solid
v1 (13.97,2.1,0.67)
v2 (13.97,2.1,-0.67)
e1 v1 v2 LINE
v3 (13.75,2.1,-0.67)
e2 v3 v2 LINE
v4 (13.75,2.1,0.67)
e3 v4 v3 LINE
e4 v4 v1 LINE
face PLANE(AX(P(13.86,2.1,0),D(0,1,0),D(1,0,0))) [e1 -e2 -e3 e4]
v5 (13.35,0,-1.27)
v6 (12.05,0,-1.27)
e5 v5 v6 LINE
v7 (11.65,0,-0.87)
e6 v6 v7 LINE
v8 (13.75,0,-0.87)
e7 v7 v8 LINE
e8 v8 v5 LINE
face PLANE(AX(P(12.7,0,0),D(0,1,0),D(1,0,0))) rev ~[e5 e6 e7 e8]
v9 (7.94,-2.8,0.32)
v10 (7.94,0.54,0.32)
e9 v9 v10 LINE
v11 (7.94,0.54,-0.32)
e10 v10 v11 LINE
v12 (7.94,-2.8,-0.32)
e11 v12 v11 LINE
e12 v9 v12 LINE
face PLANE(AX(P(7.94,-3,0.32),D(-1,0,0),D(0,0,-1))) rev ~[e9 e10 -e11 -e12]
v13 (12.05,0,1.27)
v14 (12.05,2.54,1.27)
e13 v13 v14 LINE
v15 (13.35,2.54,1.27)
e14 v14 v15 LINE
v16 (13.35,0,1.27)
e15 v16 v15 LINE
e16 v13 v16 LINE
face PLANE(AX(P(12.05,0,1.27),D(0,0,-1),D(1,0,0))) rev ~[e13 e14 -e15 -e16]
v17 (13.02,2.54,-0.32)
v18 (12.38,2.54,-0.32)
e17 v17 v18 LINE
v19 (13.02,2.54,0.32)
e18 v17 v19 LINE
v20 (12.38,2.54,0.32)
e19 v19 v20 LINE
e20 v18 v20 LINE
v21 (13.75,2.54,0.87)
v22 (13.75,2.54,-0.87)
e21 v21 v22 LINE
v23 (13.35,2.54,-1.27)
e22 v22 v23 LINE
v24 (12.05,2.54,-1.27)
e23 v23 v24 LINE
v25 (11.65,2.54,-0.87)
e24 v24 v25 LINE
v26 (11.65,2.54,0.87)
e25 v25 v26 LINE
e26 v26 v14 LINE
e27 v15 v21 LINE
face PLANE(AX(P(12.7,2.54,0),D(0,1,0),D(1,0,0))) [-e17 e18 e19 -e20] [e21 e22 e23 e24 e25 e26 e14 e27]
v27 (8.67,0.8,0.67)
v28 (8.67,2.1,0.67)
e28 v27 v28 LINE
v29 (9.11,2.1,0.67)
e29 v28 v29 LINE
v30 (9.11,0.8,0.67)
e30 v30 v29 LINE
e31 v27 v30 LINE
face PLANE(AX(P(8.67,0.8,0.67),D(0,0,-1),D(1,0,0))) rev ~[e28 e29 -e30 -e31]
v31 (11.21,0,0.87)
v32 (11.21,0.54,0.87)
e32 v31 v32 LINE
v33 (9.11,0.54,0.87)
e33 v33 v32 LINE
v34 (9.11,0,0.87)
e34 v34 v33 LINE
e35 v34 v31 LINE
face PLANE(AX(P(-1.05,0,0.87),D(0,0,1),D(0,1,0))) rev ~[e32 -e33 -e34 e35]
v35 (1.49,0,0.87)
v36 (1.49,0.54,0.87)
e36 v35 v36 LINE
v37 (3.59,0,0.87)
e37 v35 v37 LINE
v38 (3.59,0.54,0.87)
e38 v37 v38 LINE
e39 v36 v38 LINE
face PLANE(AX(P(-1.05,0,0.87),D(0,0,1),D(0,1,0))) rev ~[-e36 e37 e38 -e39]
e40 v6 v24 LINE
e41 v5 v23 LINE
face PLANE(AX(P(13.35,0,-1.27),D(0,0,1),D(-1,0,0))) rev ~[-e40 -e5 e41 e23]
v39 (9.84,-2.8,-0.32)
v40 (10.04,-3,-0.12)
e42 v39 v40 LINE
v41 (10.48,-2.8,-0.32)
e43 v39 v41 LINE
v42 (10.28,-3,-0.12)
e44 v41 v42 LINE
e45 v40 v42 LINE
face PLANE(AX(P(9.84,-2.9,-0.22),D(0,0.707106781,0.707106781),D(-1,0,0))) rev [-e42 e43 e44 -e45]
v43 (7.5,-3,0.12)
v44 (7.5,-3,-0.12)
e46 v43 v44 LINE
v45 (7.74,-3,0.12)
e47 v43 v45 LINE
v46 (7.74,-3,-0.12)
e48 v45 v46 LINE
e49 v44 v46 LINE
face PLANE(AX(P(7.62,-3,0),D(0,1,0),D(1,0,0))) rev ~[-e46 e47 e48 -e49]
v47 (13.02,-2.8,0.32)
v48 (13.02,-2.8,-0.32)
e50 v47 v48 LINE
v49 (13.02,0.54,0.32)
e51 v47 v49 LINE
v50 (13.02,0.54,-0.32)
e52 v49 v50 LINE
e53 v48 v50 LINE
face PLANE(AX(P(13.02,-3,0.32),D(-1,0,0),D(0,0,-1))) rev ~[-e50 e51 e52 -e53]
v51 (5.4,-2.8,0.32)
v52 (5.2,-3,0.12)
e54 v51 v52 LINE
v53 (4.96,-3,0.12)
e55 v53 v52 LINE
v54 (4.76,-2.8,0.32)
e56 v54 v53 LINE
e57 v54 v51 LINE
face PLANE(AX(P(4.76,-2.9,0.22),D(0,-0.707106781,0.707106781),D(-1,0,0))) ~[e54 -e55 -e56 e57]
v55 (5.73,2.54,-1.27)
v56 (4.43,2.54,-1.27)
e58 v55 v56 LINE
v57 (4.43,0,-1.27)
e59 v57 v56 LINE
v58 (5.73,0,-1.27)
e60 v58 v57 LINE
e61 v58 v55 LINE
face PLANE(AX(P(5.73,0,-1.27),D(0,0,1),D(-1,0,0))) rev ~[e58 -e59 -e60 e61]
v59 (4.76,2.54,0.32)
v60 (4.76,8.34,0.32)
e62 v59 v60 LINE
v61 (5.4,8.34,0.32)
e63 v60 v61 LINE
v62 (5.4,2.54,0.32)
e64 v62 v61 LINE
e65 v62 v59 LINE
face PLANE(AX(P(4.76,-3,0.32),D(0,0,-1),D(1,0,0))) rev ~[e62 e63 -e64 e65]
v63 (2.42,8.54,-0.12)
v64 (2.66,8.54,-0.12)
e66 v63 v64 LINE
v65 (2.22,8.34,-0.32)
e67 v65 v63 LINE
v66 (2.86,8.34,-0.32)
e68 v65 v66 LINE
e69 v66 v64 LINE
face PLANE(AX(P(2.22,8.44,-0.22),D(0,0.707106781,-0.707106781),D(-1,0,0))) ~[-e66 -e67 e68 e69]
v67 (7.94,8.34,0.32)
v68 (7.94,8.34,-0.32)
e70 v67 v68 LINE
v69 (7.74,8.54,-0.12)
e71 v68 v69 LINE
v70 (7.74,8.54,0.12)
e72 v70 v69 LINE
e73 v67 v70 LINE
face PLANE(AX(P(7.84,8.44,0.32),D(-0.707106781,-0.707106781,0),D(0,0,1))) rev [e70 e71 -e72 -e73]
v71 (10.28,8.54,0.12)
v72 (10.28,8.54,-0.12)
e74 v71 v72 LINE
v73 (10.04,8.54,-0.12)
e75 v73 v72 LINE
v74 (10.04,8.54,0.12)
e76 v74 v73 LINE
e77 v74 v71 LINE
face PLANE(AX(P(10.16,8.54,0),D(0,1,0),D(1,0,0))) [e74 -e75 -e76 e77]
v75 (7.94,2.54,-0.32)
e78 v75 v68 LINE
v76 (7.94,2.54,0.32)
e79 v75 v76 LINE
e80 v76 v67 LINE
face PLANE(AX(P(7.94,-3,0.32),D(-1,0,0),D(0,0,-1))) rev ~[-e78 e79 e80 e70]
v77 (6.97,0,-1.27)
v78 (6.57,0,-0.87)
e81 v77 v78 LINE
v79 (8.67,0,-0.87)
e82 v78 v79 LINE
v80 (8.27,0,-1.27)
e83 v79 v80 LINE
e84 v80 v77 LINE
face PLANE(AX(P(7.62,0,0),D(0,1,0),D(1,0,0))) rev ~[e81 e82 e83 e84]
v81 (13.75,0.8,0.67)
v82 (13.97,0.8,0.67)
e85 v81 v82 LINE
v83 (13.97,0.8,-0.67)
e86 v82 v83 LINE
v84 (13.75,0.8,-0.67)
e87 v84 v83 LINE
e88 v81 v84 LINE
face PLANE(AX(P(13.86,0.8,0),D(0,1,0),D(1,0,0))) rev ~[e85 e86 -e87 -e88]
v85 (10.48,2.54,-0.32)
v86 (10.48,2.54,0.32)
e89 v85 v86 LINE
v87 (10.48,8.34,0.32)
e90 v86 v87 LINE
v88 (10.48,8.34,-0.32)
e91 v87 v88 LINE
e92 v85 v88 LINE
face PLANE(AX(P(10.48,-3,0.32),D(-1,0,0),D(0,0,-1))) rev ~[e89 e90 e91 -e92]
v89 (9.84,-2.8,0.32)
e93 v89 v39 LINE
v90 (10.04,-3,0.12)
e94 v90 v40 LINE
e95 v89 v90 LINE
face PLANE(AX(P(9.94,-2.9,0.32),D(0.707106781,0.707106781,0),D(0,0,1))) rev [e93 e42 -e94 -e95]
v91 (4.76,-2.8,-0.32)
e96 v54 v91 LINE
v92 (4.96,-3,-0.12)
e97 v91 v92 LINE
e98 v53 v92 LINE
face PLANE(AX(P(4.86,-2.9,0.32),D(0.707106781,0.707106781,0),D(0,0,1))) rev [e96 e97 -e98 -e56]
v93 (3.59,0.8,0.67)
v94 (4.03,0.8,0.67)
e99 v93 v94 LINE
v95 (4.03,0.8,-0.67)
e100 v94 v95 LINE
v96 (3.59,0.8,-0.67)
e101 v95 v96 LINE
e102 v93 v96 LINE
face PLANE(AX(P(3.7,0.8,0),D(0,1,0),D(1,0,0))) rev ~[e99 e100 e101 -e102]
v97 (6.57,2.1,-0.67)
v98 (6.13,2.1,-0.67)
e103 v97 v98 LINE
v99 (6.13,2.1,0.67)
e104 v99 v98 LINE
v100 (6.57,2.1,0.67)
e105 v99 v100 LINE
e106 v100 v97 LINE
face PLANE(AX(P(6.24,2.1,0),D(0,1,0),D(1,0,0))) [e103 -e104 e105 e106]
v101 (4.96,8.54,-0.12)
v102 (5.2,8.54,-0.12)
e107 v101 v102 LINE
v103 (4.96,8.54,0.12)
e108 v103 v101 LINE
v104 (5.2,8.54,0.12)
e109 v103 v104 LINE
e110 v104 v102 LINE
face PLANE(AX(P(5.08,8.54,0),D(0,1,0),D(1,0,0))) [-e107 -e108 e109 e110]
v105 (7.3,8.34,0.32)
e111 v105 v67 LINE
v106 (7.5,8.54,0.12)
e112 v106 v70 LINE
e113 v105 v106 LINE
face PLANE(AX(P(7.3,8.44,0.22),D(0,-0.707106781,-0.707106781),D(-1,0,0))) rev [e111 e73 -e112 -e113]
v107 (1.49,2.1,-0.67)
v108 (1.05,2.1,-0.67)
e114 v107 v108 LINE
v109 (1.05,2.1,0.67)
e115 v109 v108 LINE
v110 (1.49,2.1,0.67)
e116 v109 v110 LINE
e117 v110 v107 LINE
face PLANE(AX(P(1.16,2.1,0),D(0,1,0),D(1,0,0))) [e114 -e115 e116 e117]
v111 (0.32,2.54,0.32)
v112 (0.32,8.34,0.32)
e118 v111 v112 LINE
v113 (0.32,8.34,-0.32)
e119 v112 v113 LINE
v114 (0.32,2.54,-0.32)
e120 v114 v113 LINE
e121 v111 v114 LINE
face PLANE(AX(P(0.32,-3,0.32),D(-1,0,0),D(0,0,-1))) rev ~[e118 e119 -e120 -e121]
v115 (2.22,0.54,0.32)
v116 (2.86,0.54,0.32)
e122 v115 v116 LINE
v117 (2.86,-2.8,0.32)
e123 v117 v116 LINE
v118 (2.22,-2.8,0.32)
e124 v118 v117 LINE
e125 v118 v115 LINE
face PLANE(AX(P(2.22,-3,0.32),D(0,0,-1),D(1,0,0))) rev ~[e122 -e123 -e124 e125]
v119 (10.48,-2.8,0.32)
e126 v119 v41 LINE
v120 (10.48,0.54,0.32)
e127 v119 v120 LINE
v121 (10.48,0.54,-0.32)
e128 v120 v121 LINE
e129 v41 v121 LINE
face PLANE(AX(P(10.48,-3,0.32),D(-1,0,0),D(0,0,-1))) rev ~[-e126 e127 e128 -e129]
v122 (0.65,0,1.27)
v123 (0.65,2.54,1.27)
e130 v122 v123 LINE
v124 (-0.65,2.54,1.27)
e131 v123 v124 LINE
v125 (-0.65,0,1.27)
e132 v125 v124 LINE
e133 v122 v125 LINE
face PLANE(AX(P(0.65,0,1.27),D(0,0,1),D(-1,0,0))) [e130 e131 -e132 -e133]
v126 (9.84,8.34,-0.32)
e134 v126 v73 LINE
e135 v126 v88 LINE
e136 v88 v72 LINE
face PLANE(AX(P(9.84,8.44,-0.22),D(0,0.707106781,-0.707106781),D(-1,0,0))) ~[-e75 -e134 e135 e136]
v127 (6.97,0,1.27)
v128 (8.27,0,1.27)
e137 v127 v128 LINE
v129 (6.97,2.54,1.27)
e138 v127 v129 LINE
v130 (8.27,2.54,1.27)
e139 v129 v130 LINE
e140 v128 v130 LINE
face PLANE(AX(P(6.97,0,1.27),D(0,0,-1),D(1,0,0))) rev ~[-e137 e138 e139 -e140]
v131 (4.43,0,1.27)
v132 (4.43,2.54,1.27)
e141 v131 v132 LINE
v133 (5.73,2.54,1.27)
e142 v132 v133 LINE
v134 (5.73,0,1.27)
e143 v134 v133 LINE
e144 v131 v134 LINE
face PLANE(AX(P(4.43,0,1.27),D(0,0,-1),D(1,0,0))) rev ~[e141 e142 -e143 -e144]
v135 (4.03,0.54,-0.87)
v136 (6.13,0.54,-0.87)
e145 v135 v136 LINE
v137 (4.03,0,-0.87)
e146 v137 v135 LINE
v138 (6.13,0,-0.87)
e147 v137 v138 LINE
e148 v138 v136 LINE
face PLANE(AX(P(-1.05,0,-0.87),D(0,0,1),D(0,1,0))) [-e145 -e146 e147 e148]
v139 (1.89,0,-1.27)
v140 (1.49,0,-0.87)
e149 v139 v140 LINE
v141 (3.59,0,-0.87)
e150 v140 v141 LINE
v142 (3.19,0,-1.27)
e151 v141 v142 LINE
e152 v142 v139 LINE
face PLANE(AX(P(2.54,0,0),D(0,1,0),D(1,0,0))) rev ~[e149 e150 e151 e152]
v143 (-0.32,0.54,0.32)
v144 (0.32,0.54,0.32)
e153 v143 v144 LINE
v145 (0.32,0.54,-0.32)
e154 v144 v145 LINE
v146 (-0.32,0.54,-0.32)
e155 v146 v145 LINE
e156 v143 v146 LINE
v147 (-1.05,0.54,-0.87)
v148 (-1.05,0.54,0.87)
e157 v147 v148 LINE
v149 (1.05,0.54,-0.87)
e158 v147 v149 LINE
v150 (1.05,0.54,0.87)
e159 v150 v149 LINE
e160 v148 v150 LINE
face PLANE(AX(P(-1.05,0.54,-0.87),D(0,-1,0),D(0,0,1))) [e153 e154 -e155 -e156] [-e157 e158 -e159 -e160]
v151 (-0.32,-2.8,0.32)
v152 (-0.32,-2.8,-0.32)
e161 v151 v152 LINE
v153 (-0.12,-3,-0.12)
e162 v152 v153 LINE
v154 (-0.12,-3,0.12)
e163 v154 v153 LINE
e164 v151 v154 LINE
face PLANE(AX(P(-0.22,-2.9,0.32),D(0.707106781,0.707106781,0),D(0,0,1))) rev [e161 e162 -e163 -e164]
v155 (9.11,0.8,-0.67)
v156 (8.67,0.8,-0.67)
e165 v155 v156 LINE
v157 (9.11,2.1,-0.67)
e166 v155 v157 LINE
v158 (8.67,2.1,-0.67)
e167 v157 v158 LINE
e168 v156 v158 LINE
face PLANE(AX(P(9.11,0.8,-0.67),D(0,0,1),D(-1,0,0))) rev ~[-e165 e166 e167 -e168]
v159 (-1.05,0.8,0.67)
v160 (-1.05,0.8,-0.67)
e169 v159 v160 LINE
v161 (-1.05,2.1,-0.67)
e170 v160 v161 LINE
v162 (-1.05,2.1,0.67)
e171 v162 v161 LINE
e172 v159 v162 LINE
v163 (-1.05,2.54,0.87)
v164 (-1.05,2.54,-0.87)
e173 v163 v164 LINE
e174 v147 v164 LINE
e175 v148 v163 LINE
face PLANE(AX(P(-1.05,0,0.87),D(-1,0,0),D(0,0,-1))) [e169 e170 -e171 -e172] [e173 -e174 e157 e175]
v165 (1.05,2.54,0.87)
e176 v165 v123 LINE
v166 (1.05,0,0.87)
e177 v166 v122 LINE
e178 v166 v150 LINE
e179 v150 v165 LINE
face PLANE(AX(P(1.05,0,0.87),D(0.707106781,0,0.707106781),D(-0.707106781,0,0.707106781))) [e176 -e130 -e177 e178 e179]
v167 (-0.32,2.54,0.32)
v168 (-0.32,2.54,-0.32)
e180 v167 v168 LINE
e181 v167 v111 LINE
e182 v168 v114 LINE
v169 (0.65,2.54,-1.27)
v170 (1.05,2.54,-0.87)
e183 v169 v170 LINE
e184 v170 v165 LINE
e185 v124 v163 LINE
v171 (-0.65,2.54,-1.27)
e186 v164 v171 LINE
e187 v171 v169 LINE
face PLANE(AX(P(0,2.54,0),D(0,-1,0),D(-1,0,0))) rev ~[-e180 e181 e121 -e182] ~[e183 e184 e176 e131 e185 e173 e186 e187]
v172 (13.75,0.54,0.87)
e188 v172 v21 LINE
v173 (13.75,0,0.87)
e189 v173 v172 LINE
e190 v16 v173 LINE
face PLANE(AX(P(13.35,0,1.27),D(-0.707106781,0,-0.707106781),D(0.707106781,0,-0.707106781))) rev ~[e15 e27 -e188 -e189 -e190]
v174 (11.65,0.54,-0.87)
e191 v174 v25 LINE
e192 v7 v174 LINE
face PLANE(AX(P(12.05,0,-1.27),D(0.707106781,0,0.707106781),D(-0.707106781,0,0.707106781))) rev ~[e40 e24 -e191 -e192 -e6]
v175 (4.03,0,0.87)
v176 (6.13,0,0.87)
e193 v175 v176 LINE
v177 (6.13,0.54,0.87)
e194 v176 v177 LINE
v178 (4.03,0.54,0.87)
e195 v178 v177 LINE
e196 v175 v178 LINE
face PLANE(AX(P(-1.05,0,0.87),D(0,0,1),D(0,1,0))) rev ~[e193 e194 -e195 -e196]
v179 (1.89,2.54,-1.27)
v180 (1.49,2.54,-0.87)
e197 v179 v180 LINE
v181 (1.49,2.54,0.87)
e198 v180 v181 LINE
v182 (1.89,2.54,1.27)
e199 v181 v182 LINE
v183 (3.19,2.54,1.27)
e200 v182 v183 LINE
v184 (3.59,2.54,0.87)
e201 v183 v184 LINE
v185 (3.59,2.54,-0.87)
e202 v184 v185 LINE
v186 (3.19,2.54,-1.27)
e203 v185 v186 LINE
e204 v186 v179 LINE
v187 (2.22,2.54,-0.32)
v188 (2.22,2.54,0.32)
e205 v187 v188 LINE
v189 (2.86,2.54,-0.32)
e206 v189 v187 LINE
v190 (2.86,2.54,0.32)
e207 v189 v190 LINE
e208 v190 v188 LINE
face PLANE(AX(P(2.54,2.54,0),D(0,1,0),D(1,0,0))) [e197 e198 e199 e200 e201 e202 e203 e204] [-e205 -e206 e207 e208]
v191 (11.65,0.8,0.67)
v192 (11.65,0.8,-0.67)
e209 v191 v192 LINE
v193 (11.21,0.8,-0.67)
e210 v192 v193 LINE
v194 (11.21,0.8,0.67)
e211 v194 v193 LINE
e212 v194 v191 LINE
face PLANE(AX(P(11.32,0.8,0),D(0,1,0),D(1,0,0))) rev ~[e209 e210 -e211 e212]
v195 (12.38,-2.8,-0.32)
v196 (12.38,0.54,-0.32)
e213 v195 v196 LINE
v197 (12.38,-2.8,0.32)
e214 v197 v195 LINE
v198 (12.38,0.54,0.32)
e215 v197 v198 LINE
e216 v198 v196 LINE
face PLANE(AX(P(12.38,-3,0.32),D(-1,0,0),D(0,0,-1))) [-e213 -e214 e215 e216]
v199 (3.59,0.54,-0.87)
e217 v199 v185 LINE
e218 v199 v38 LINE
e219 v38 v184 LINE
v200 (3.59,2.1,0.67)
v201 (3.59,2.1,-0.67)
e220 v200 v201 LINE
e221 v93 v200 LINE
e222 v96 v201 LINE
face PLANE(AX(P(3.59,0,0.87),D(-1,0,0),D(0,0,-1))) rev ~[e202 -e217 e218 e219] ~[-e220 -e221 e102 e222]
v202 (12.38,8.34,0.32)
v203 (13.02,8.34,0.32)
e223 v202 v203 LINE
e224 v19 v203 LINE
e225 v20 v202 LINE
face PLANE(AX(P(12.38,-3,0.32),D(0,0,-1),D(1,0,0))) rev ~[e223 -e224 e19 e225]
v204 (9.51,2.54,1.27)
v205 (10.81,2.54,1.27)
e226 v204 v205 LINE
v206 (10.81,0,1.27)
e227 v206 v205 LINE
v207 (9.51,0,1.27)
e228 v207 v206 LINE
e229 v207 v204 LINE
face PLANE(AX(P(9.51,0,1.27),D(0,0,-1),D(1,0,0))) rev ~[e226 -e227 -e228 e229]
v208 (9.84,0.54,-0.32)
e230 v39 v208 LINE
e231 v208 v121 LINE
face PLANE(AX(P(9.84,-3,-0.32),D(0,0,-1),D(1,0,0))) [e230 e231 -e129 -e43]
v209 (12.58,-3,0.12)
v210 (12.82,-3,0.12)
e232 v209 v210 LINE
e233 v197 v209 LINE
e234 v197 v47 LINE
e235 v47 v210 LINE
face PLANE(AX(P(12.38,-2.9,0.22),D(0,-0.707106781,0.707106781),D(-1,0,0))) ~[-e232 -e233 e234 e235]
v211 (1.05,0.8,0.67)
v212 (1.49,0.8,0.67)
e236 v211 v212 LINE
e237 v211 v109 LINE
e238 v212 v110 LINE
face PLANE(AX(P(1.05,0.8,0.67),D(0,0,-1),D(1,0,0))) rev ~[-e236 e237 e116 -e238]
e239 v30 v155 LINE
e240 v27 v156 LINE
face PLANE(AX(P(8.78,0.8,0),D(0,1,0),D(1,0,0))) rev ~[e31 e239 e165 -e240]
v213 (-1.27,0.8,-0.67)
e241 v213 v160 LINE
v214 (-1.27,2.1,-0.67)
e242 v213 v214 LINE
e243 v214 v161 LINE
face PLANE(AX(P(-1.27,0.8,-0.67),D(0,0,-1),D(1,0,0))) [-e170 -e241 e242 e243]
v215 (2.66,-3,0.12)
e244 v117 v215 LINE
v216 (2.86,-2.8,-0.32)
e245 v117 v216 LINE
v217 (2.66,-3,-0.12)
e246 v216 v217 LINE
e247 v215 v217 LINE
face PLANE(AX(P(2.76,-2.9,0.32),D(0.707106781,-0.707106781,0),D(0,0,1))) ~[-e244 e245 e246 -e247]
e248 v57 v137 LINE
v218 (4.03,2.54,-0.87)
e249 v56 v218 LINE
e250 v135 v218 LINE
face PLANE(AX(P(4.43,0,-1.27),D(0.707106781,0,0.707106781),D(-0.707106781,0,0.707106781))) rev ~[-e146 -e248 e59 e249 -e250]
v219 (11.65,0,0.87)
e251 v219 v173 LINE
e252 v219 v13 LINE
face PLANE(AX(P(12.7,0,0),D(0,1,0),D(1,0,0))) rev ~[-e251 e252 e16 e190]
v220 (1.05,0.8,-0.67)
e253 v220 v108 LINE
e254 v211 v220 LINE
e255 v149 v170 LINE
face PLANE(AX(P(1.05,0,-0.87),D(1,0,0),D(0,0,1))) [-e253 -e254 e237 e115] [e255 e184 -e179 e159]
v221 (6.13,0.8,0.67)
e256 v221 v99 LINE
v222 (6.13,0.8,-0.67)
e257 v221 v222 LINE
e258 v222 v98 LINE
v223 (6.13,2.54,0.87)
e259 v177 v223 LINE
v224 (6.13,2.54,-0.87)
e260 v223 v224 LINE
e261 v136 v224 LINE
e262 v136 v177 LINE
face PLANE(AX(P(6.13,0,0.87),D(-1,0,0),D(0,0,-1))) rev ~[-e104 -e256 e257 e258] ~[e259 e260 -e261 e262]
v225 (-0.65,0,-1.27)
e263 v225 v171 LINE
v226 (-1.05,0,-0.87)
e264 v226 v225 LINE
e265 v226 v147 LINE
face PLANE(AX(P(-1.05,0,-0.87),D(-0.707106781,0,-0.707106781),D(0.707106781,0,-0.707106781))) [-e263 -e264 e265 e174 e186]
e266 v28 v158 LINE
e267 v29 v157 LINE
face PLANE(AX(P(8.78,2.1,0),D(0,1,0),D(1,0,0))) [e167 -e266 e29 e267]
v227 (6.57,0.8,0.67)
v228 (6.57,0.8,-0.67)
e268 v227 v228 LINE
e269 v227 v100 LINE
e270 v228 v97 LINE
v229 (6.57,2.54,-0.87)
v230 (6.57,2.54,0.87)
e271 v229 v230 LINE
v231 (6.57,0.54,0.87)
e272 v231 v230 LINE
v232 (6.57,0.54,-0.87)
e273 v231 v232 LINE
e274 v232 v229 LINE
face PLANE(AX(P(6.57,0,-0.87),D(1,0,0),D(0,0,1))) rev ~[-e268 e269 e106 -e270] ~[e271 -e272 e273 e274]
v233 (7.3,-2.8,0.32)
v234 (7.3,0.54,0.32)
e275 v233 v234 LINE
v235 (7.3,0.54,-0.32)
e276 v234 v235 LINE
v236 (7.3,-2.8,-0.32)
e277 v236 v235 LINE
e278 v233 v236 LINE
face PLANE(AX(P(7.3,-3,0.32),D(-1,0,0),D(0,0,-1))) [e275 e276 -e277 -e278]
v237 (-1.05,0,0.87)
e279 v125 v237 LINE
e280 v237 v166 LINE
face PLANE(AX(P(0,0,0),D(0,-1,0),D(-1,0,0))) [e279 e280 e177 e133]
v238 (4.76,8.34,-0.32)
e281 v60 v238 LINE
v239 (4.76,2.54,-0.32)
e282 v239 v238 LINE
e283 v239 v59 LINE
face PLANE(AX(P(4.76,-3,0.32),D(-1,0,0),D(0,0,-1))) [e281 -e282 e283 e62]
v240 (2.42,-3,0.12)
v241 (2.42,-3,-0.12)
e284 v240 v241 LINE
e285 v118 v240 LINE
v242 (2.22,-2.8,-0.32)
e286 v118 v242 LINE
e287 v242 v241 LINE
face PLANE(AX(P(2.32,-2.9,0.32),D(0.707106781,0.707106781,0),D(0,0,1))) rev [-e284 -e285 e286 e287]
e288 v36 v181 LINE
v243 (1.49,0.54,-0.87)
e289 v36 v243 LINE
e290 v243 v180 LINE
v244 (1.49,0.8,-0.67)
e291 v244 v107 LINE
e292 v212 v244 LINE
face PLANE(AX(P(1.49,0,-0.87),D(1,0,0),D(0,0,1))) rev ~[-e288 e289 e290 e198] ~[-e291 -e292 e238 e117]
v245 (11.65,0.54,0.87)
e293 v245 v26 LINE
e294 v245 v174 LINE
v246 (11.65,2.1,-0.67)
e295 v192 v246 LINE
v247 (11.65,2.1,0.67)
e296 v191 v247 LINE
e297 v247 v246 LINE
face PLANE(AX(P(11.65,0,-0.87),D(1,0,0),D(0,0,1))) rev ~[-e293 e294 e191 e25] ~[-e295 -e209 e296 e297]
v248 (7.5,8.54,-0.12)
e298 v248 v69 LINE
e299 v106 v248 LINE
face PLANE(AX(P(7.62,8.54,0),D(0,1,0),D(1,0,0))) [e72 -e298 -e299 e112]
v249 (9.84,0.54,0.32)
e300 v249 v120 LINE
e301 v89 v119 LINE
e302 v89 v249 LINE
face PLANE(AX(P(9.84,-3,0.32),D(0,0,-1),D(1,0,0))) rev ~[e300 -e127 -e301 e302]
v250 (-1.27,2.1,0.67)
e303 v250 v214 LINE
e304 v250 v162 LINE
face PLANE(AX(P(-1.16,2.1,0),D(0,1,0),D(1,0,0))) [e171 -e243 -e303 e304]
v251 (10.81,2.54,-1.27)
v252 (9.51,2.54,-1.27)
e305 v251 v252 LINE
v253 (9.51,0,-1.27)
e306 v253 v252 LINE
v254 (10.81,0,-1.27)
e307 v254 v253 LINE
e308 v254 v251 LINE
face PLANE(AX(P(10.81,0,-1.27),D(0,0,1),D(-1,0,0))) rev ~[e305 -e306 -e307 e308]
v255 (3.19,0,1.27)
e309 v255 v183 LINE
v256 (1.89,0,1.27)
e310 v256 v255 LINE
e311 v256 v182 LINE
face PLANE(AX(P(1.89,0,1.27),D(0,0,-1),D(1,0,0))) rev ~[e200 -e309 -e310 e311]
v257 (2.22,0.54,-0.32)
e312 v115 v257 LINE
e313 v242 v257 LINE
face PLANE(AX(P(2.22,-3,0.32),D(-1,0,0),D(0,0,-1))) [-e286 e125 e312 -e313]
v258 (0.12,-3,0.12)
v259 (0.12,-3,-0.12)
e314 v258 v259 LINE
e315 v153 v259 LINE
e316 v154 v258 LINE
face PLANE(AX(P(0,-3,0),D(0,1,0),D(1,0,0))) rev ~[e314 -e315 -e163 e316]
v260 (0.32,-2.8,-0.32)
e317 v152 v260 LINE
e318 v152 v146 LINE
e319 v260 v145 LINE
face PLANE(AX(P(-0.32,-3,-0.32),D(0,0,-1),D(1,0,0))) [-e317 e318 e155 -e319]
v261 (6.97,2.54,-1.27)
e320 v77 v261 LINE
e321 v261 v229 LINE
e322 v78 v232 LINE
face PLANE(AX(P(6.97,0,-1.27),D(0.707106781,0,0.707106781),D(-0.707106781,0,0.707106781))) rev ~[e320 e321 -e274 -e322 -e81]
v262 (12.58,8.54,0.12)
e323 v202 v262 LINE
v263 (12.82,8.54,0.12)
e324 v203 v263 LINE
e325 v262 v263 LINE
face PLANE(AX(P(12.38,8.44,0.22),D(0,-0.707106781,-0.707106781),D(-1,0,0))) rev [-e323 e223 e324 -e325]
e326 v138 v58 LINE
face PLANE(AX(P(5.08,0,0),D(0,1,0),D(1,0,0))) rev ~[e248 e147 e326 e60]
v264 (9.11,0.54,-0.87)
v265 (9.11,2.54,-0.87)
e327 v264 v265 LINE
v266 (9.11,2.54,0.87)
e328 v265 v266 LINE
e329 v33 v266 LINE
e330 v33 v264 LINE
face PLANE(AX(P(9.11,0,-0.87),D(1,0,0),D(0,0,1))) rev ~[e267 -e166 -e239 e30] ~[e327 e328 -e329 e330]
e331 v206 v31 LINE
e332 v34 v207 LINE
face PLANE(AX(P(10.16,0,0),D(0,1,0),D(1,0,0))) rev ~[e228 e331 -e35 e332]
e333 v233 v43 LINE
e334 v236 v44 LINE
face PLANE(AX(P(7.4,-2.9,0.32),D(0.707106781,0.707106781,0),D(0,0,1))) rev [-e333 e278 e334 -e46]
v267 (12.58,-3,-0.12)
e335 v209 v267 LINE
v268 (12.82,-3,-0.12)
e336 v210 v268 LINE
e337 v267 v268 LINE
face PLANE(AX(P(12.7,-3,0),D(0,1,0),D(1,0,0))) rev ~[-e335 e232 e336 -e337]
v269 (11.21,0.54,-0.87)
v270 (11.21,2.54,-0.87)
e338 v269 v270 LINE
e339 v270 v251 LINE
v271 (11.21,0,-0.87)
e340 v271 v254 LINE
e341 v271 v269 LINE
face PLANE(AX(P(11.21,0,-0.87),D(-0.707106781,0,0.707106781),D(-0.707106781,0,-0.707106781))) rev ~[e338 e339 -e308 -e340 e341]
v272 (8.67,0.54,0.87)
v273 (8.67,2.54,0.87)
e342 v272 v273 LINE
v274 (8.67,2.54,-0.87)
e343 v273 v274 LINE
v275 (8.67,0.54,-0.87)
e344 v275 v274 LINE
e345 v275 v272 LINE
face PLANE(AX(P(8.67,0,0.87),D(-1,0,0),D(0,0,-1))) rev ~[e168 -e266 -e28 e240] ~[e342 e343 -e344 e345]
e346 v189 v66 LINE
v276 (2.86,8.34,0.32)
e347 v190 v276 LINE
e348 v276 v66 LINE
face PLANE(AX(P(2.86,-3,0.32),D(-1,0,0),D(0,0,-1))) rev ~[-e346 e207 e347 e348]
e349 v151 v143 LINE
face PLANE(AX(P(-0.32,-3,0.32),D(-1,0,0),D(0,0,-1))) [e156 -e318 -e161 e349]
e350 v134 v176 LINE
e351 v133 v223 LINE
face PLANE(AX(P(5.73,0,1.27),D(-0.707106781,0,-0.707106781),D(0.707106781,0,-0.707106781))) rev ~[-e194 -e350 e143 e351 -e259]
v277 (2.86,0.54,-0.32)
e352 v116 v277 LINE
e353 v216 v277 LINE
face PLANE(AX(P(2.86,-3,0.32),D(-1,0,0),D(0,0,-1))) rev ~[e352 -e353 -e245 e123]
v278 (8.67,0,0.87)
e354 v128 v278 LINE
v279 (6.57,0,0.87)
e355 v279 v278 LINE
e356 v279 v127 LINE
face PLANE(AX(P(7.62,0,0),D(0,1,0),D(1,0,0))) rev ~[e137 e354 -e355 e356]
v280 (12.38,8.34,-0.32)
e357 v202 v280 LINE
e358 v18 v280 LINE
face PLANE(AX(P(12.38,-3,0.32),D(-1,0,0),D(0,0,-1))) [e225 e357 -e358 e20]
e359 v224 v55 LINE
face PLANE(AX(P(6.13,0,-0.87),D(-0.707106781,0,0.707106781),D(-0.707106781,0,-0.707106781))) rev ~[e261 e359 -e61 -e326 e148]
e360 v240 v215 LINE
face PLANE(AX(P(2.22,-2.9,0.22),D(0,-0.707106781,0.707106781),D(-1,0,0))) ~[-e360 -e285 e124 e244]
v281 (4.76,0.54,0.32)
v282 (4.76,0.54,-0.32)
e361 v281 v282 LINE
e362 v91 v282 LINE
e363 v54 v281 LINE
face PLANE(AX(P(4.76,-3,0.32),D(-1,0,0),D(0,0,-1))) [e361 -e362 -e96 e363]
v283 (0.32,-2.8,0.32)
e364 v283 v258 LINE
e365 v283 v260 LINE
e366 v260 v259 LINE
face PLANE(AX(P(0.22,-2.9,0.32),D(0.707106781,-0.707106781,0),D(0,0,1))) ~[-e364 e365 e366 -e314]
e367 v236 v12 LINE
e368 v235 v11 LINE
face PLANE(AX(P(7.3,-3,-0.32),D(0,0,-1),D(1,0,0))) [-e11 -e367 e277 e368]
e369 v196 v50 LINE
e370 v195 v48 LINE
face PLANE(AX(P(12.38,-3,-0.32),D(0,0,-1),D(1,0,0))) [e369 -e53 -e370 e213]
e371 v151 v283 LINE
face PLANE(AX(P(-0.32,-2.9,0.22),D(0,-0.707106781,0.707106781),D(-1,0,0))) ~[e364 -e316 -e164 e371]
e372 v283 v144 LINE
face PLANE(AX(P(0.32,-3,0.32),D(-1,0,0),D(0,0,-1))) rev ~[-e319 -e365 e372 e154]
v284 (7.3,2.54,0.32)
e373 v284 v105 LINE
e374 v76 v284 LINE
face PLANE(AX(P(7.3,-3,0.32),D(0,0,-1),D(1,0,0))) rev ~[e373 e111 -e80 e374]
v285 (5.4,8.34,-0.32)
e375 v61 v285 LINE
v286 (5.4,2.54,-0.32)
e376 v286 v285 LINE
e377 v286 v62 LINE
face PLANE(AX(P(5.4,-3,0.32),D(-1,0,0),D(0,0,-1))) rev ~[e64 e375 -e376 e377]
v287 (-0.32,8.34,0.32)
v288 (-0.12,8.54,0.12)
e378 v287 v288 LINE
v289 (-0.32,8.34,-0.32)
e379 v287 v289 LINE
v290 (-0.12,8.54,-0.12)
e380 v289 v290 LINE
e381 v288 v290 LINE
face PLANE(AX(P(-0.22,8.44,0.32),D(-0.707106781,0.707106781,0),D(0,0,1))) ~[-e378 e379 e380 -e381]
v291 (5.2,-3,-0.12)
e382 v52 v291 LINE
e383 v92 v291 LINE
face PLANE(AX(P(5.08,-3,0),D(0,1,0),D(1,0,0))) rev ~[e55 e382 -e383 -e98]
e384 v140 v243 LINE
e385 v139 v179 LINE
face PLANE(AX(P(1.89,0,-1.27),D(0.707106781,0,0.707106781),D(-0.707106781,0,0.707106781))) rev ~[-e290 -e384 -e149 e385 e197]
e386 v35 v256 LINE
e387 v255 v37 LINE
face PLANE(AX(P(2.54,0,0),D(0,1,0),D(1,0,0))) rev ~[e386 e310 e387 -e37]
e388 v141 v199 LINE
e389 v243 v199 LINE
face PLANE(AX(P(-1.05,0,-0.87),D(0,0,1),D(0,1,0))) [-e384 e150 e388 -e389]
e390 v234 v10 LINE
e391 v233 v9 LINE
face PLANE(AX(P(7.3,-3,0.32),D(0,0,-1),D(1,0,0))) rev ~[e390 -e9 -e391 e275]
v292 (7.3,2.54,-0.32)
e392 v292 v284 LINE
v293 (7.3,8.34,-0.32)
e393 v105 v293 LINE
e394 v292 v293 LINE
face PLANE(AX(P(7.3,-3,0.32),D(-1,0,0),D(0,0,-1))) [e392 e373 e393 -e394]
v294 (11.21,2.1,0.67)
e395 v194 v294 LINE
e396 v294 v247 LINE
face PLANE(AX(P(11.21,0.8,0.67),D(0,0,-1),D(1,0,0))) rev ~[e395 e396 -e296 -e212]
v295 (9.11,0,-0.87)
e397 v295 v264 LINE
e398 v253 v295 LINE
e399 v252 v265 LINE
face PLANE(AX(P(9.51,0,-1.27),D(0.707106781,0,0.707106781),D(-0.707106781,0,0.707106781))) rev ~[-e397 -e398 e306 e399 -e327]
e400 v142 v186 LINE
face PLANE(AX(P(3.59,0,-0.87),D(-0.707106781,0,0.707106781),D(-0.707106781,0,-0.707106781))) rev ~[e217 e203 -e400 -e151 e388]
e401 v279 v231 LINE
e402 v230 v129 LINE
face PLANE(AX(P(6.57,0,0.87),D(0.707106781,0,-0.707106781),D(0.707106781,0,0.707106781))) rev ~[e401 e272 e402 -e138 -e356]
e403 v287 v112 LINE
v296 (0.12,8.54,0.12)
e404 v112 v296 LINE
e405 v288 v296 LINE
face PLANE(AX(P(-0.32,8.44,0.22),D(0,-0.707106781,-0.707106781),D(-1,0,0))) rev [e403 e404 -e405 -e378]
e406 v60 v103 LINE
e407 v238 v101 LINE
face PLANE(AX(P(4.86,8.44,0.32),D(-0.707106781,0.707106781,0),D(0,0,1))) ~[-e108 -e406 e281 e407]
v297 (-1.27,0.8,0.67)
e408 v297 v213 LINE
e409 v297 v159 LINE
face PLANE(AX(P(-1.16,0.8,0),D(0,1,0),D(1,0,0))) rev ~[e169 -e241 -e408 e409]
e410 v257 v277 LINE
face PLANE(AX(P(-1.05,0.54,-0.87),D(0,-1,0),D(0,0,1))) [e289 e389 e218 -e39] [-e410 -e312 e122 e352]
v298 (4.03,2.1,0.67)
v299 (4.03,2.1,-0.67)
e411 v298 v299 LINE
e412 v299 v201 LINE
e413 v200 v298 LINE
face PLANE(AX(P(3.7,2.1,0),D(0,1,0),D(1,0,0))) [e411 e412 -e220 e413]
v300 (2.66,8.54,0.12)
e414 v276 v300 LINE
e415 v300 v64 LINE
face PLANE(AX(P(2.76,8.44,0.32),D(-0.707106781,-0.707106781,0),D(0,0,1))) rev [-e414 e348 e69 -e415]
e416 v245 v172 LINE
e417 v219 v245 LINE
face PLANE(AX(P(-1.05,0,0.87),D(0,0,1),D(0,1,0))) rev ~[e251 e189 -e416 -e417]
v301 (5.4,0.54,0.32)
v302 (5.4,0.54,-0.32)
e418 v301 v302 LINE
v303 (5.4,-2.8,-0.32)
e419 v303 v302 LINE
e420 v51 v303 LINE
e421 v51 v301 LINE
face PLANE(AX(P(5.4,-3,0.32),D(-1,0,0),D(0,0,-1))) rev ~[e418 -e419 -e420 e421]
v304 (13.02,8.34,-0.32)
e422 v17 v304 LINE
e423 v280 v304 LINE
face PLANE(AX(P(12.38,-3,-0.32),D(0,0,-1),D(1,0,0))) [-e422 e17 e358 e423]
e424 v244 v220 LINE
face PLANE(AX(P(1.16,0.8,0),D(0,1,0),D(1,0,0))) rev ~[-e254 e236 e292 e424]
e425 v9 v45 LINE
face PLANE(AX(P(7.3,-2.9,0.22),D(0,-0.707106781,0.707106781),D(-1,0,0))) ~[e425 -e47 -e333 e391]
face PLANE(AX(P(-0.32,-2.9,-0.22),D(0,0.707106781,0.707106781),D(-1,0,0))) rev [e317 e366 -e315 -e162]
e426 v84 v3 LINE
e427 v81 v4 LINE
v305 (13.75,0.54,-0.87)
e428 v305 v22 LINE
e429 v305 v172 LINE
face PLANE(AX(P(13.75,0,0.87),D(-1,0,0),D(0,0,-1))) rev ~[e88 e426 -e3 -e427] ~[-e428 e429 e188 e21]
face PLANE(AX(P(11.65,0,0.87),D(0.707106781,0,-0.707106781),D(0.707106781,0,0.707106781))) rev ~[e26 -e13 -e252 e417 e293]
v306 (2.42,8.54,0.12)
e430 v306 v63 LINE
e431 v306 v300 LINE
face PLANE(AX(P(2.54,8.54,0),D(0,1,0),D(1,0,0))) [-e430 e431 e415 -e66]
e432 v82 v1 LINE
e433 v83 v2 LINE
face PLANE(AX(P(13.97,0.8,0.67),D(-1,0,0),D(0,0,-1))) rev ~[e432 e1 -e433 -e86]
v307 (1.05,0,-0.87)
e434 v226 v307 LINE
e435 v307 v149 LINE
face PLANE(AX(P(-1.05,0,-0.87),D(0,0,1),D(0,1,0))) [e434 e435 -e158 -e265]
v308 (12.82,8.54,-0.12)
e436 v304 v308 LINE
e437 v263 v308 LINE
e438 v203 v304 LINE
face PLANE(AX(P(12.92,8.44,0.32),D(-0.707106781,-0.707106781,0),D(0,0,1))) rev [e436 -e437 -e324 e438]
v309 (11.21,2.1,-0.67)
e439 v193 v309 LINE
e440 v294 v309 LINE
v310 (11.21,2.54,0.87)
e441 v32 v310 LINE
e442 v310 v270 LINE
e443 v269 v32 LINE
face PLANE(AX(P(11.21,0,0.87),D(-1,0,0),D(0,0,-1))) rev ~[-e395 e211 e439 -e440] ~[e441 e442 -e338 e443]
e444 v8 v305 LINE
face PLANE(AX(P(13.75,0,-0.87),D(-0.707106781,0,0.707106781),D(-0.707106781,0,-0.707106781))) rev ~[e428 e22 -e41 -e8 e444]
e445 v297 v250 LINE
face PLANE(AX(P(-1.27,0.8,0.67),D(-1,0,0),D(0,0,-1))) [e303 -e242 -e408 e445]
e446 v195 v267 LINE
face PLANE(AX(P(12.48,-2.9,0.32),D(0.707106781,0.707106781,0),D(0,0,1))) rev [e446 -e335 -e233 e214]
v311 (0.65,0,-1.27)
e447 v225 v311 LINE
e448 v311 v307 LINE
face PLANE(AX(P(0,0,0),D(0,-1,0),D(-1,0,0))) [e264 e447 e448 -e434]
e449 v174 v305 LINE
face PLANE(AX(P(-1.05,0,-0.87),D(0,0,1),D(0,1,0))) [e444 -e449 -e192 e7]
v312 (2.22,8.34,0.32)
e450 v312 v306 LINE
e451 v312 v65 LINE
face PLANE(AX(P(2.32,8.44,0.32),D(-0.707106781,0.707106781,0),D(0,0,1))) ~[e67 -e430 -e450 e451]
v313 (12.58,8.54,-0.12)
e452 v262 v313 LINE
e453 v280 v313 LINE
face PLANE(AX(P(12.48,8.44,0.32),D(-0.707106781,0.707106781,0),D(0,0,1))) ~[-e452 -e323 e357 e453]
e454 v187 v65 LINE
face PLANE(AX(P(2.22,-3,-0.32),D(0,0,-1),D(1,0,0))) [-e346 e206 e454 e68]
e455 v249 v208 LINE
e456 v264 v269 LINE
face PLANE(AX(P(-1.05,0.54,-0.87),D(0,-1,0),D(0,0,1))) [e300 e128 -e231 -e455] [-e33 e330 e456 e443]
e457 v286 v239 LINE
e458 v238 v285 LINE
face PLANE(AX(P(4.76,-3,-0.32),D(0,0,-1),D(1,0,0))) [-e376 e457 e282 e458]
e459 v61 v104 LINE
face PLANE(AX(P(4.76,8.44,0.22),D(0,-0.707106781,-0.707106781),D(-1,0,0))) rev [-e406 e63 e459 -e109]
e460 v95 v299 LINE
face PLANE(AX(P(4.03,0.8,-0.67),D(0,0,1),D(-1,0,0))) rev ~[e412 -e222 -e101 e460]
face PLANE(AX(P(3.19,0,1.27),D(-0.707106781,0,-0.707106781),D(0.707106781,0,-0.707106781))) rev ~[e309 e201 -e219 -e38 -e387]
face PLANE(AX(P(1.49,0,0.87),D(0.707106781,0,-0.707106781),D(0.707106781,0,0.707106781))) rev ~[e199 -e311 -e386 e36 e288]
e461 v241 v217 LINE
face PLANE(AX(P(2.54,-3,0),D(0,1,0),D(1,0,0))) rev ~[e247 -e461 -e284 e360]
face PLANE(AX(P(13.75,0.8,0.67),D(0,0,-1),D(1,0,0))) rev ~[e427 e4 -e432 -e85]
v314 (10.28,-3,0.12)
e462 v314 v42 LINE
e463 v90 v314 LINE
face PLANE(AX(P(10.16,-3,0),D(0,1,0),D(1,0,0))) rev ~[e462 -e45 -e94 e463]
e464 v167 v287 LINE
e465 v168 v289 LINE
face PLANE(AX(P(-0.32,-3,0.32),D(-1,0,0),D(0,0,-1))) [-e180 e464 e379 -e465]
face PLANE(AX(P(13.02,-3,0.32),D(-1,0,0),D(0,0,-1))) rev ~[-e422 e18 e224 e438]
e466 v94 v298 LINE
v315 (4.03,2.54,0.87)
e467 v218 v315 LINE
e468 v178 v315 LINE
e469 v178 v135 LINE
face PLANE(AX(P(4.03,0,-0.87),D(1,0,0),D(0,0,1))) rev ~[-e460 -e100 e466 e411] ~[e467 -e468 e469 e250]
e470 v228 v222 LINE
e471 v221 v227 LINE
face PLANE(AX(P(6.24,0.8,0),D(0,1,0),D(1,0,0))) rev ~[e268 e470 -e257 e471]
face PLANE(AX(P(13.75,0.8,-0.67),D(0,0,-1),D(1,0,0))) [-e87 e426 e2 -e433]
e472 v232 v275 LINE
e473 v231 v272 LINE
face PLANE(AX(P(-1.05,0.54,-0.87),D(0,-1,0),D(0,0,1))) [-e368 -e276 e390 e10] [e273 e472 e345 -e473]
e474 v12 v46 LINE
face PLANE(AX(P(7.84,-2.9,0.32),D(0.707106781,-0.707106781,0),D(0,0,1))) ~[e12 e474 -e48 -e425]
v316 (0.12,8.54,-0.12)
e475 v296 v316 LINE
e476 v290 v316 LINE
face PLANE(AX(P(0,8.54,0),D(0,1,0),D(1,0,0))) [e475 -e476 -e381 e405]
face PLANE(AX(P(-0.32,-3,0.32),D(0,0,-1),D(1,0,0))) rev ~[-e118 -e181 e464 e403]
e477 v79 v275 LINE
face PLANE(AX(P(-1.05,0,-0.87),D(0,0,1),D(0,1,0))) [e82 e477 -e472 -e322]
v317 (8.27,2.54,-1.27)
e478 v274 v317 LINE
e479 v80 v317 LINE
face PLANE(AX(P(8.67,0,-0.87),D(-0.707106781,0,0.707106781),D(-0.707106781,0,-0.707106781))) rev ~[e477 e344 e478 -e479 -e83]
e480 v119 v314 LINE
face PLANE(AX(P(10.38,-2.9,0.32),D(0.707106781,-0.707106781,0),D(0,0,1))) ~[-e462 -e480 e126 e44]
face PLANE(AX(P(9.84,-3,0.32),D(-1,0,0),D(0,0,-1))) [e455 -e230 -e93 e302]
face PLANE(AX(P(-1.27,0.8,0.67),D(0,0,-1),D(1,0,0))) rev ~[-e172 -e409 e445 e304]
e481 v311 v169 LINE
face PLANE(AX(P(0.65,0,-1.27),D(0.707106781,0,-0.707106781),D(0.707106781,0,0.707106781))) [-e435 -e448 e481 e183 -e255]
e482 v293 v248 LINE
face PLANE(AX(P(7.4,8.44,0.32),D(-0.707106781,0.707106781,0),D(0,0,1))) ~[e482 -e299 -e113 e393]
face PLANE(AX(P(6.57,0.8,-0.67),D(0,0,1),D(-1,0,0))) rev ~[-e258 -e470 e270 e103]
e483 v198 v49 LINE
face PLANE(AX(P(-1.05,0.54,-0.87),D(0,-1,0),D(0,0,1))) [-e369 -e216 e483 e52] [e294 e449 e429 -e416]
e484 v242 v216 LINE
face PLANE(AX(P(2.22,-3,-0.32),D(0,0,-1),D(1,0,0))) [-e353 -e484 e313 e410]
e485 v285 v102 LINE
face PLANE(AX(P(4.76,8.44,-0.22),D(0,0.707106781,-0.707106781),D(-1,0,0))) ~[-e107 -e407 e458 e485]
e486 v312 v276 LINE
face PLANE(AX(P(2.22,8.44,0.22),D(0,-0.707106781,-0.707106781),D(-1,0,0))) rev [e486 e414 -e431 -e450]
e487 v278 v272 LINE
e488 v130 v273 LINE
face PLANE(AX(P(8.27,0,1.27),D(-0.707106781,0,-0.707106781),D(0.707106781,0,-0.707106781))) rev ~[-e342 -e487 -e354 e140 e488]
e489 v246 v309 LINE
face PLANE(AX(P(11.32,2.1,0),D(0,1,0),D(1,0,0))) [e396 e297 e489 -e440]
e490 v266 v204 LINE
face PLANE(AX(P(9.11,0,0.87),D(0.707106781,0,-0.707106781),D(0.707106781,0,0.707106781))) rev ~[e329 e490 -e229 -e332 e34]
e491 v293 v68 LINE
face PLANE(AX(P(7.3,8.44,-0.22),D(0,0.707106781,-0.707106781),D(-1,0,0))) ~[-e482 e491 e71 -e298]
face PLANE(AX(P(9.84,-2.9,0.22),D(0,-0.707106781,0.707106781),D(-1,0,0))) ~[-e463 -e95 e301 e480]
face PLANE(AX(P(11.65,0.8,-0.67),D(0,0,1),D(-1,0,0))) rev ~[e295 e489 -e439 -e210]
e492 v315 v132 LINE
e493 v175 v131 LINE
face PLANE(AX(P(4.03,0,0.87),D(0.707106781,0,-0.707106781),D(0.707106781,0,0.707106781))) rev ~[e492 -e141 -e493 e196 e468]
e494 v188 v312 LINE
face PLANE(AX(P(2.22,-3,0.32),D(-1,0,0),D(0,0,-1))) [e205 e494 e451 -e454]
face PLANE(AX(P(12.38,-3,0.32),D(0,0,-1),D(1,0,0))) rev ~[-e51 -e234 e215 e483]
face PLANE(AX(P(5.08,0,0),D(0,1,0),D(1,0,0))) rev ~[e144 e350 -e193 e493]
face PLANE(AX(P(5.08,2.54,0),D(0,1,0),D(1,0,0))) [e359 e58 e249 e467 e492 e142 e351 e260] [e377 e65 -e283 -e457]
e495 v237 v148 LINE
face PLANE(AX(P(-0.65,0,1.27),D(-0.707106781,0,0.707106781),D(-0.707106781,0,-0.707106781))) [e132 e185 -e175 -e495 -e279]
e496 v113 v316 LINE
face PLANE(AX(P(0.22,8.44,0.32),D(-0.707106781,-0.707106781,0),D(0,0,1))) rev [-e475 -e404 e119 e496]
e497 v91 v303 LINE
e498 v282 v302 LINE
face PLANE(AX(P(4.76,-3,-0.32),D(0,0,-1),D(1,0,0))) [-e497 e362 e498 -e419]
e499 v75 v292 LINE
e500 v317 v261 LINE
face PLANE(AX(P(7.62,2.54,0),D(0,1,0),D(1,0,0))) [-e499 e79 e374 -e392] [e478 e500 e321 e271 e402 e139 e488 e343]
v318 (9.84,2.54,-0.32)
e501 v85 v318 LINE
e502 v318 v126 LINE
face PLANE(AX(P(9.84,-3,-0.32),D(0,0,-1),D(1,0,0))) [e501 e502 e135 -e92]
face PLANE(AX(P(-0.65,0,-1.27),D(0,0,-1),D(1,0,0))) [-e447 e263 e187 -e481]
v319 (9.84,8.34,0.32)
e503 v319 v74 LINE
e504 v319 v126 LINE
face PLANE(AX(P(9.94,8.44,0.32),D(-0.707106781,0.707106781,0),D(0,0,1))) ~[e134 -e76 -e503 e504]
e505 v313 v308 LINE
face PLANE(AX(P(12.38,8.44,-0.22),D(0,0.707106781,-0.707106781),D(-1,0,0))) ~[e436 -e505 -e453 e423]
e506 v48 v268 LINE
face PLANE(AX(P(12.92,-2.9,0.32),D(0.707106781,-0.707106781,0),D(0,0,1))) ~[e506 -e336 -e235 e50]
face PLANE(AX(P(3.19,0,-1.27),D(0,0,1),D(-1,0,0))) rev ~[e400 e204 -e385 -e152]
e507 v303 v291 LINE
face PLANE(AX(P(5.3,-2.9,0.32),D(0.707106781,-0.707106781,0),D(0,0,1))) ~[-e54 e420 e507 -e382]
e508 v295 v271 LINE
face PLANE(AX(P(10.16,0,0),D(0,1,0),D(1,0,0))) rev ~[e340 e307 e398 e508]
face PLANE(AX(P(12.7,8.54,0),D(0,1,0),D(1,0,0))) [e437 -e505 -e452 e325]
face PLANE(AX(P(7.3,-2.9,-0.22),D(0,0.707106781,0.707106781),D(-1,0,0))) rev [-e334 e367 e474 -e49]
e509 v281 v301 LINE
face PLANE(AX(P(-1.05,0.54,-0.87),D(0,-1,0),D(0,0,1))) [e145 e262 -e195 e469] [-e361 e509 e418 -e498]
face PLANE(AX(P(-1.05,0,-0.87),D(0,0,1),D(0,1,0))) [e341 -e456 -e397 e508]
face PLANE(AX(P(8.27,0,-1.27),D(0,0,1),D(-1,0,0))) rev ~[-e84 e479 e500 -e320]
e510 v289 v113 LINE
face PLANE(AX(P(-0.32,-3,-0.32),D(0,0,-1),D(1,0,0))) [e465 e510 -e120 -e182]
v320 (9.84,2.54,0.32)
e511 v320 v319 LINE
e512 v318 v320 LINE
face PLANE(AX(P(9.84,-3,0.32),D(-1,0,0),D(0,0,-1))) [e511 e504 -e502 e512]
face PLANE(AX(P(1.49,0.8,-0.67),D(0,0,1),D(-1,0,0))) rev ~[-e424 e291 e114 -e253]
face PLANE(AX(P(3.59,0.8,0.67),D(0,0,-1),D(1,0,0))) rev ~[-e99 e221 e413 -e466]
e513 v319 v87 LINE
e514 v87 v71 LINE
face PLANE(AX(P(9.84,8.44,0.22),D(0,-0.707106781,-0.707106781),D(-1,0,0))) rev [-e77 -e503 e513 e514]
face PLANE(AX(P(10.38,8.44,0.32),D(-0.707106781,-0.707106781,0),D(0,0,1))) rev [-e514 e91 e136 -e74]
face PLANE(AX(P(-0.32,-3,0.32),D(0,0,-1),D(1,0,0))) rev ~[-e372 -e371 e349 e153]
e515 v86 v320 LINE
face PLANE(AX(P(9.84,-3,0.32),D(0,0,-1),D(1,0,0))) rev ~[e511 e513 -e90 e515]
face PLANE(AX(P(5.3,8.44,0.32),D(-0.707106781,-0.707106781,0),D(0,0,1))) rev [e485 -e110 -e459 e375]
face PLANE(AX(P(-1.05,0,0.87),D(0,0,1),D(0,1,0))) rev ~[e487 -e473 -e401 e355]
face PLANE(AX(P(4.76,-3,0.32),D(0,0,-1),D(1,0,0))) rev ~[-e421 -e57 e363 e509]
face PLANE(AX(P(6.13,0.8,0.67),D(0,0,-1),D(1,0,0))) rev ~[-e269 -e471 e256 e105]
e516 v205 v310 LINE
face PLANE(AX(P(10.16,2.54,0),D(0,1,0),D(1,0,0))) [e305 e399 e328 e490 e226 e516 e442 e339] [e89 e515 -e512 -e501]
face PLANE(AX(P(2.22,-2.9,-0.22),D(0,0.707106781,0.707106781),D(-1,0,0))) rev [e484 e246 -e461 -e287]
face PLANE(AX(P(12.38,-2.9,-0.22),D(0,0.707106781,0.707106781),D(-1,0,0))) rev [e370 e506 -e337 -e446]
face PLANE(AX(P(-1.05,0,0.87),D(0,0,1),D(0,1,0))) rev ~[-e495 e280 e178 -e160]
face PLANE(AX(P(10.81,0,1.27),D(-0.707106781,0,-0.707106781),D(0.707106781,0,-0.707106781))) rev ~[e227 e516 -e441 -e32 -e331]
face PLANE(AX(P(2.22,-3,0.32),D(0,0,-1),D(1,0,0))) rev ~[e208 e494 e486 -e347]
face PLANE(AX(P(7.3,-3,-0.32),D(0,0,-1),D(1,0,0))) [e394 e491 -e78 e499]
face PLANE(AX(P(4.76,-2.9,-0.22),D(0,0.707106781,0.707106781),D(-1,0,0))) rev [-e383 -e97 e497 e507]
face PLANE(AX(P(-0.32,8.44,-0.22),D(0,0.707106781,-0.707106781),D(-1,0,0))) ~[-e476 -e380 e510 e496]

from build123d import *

# Parameters (mm, degrees)
EXTRUDE_2_DEPTH                    = 2.54
EXTRUDE_2_2_DEPTH                  = 2.54
EXTRUDE_2_3_DEPTH                  = 2.54
EXTRUDE_2_4_DEPTH                  = 2.54
EXTRUDE_2_5_DEPTH                  = 2.54
EXTRUDE_2_6_DEPTH                  = 2.54
EXTRUDE_START                      = 0.8
SKETCH_3_W                         = 0.22
SKETCH_3_H                         = 1.34
EXTRUDE_3_DEPTH                    = 1.3
SKETCH_4_W                         = 1.74
SKETCH_4_H                         = 0.54
CUT_EXTRUDE_1_DEPTH                = 16.28610153
EXTRUDE_START_2                    = -3
SKETCH_5_W                         = 0.64
SKETCH_5_H                         = 0.64
EXTRUDE_4_DEPTH                    = 11.54
CHAMFER_1_SIZE                     = 0.2
CHAMFER_2_SIZE                     = 0.2
PATTERN_LINEAR_1_COUNT             = 6
PATTERN_LINEAR_1_PITCH             = 2.54
CHAMFER_1_OF_PATTERN_LINEAR_1_SIZE = 0.2
CHAMFER_2_OF_PATTERN_LINEAR_1_SIZE = 0.2


with BuildPart() as part:
    # Эскиз2 → Бобышка-Вытянуть2 (new body)
    with BuildSketch(Plane(origin=(0, 0, 0), x_dir=(1, 0, 0), z_dir=(0, 1, 0))):
        Polygon((-1.05, 0.87), (-0.65, 1.27), (0.65, 1.27), (1.05, 0.87), (1.05, -0.87), (0.65, -1.27), (-0.65, -1.27), (-1.05, -0.87), align=None)
    extrude(amount=EXTRUDE_2_DEPTH)



with BuildPart() as body_2:
    # Эскиз2 → Extrude 2 2 (new body)
    with BuildSketch(Plane(origin=(0, 0, 0), x_dir=(1, 0, 0), z_dir=(0, 1, 0))):
        Polygon((1.89, -1.27), (3.19, -1.27), (3.59, -0.87), (3.59, 0.87), (3.19, 1.27), (1.89, 1.27), (1.49, 0.87), (1.49, -0.87), align=None)
    extrude(amount=EXTRUDE_2_2_DEPTH)


with BuildPart() as body_3:
    # Эскиз2 → Extrude 2 3 (new body)
    with BuildSketch(Plane(origin=(0, 0, 0), x_dir=(1, 0, 0), z_dir=(0, 1, 0))):
        Polygon((4.43, -1.27), (5.73, -1.27), (6.13, -0.87), (6.13, 0.87), (5.73, 1.27), (4.43, 1.27), (4.03, 0.87), (4.03, -0.87), align=None)
    extrude(amount=EXTRUDE_2_3_DEPTH)


with BuildPart() as body_4:
    # Эскиз2 → Extrude 2 4 (new body)
    with BuildSketch(Plane(origin=(0, 0, 0), x_dir=(1, 0, 0), z_dir=(0, 1, 0))):
        Polygon((6.97, -1.27), (8.27, -1.27), (8.67, -0.87), (8.67, 0.87), (8.27, 1.27), (6.97, 1.27), (6.57, 0.87), (6.57, -0.87), align=None)
    extrude(amount=EXTRUDE_2_4_DEPTH)


with BuildPart() as body_5:
    # Эскиз2 → Extrude 2 5 (new body)
    with BuildSketch(Plane(origin=(0, 0, 0), x_dir=(1, 0, 0), z_dir=(0, 1, 0))):
        Polygon((9.51, -1.27), (10.81, -1.27), (11.21, -0.87), (11.21, 0.87), (10.81, 1.27), (9.51, 1.27), (9.11, 0.87), (9.11, -0.87), align=None)
    extrude(amount=EXTRUDE_2_5_DEPTH)


with BuildPart() as body_6:
    # Эскиз2 → Extrude 2 6 (new body)
    with BuildSketch(Plane(origin=(0, 0, 0), x_dir=(1, 0, 0), z_dir=(0, 1, 0))):
        Polygon((12.05, -1.27), (13.35, -1.27), (13.75, -0.87), (13.75, 0.87), (13.35, 1.27), (12.05, 1.27), (11.65, 0.87), (11.65, -0.87), align=None)
    extrude(amount=EXTRUDE_2_6_DEPTH)


with BuildPart() as part_1:
    add(part.part)

    add(body_2.part)  # Бобышка-Вытянуть3 merges body 2

    add(body_3.part)  # Бобышка-Вытянуть3 merges body 3

    add(body_4.part)  # Бобышка-Вытянуть3 merges body 4

    add(body_5.part)  # Бобышка-Вытянуть3 merges body 5

    add(body_6.part)  # Бобышка-Вытянуть3 merges body 6
    # Эскиз3 → Бобышка-Вытянуть3 (add)
    with BuildSketch(Plane(origin=(0, 0, 0), x_dir=(1, 0, 0), z_dir=(0, 1, 0)).offset(EXTRUDE_START)):
        with Locations((-1.16, 0)):
            Rectangle(SKETCH_3_W, SKETCH_3_H)
        with Locations((1.16, 0)):
            Rectangle(SKETCH_3_W, SKETCH_3_H)
        with Locations((1.38, 0)):
            Rectangle(SKETCH_3_W, SKETCH_3_H)
        with Locations((3.7, 0)):
            Rectangle(SKETCH_3_W, SKETCH_3_H)
        with Locations((3.92, 0)):
            Rectangle(SKETCH_3_W, SKETCH_3_H)
        with Locations((6.24, 0)):
            Rectangle(SKETCH_3_W, SKETCH_3_H)
        with Locations((6.46, 0)):
            Rectangle(SKETCH_3_W, SKETCH_3_H)
        with Locations((8.78, 0)):
            Rectangle(SKETCH_3_W, SKETCH_3_H)
        with Locations((11.32, 0)):
            Rectangle(SKETCH_3_W, SKETCH_3_H)
        with Locations((11.54, 0)):
            Rectangle(SKETCH_3_W, SKETCH_3_H)
        with Locations((9, 0)):
            Rectangle(SKETCH_3_W, SKETCH_3_H)
        with Locations((13.86, 0)):
            Rectangle(SKETCH_3_W, SKETCH_3_H)
    extrude(amount=EXTRUDE_3_DEPTH)

    # Эскиз4 → Вырез-Вытянуть1 (cut, through all)
    with BuildSketch(Plane.ZY.offset(1.05)):
        with Locations((0, 0.27)):
            Rectangle(SKETCH_4_W, SKETCH_4_H)
    extrude(amount=-CUT_EXTRUDE_1_DEPTH, mode=Mode.SUBTRACT)

    # Эскиз5 → Бобышка-Вытянуть4 (add)
    with BuildSketch(Plane(origin=(0, 0, 0), x_dir=(1, 0, 0), z_dir=(0, 1, 0)).offset(EXTRUDE_START_2)):
        Rectangle(SKETCH_5_W, SKETCH_5_H)
    extrude_4 = extrude(amount=EXTRUDE_4_DEPTH)

    # Фаска1
    chamfer_1_edges = [part_1.edges().sort_by_distance(p)[0] for p in [
        (0.32, 8.54, 0),
        (0, 8.54, -0.32),
        (-0.32, 8.54, 0),
        (0, 8.54, 0.32),
    ]]
    chamfer(chamfer_1_edges, length=CHAMFER_1_SIZE)

    # Фаска2
    chamfer_2_edges = [part_1.edges().sort_by_distance(p)[0] for p in [
        (0.32, -3, 0),
        (0, -3, 0.32),
        (-0.32, -3, 0),
        (0, -3, -0.32),
    ]]
    chamfer(chamfer_2_edges, length=CHAMFER_2_SIZE)

    # Линейный массив1: Бобышка-Вытянуть4 ×6
    with Locations(*[(i * PATTERN_LINEAR_1_PITCH, 0, 0) for i in range(1, PATTERN_LINEAR_1_COUNT)]):
        add(extrude_4)

    # Фаска1 of Линейный массив1
    chamfer_1_of_pattern_linear_1_edges = [part_1.edges().sort_by_distance(p)[0] for p in [
        (2.86, 8.54, 0),
        (2.54, 8.54, -0.32),
        (2.22, 8.54, 0),
        (2.54, 8.54, 0.32),
        (5.4, 8.54, 0),
        (5.08, 8.54, -0.32),
        (4.76, 8.54, 0),
        (5.08, 8.54, 0.32),
        (7.94, 8.54, 0),
        (7.62, 8.54, -0.32),
        (7.3, 8.54, 0),
        (7.62, 8.54, 0.32),
        (10.48, 8.54, 0),
        (10.16, 8.54, -0.32),
        (9.84, 8.54, 0),
        (10.16, 8.54, 0.32),
        (13.02, 8.54, 0),
        (12.7, 8.54, -0.32),
        (12.38, 8.54, 0),
        (12.7, 8.54, 0.32),
    ]]
    chamfer(chamfer_1_of_pattern_linear_1_edges, length=CHAMFER_1_OF_PATTERN_LINEAR_1_SIZE)

    # Фаска2 of Линейный массив1
    chamfer_2_of_pattern_linear_1_edges = [part_1.edges().sort_by_distance(p)[0] for p in [
        (2.86, -3, 0),
        (2.54, -3, 0.32),
        (2.22, -3, 0),
        (2.54, -3, -0.32),
        (5.4, -3, 0),
        (5.08, -3, 0.32),
        (4.76, -3, 0),
        (5.08, -3, -0.32),
        (7.94, -3, 0),
        (7.62, -3, 0.32),
        (7.3, -3, 0),
        (7.62, -3, -0.32),
        (10.48, -3, 0),
        (10.16, -3, 0.32),
        (9.84, -3, 0),
        (10.16, -3, -0.32),
        (13.02, -3, 0),
        (12.7, -3, 0.32),
        (12.38, -3, 0),
        (12.7, -3, -0.32),
    ]]
    chamfer(chamfer_2_of_pattern_linear_1_edges, length=CHAMFER_2_OF_PATTERN_LINEAR_1_SIZE)


solid = part_1.part
